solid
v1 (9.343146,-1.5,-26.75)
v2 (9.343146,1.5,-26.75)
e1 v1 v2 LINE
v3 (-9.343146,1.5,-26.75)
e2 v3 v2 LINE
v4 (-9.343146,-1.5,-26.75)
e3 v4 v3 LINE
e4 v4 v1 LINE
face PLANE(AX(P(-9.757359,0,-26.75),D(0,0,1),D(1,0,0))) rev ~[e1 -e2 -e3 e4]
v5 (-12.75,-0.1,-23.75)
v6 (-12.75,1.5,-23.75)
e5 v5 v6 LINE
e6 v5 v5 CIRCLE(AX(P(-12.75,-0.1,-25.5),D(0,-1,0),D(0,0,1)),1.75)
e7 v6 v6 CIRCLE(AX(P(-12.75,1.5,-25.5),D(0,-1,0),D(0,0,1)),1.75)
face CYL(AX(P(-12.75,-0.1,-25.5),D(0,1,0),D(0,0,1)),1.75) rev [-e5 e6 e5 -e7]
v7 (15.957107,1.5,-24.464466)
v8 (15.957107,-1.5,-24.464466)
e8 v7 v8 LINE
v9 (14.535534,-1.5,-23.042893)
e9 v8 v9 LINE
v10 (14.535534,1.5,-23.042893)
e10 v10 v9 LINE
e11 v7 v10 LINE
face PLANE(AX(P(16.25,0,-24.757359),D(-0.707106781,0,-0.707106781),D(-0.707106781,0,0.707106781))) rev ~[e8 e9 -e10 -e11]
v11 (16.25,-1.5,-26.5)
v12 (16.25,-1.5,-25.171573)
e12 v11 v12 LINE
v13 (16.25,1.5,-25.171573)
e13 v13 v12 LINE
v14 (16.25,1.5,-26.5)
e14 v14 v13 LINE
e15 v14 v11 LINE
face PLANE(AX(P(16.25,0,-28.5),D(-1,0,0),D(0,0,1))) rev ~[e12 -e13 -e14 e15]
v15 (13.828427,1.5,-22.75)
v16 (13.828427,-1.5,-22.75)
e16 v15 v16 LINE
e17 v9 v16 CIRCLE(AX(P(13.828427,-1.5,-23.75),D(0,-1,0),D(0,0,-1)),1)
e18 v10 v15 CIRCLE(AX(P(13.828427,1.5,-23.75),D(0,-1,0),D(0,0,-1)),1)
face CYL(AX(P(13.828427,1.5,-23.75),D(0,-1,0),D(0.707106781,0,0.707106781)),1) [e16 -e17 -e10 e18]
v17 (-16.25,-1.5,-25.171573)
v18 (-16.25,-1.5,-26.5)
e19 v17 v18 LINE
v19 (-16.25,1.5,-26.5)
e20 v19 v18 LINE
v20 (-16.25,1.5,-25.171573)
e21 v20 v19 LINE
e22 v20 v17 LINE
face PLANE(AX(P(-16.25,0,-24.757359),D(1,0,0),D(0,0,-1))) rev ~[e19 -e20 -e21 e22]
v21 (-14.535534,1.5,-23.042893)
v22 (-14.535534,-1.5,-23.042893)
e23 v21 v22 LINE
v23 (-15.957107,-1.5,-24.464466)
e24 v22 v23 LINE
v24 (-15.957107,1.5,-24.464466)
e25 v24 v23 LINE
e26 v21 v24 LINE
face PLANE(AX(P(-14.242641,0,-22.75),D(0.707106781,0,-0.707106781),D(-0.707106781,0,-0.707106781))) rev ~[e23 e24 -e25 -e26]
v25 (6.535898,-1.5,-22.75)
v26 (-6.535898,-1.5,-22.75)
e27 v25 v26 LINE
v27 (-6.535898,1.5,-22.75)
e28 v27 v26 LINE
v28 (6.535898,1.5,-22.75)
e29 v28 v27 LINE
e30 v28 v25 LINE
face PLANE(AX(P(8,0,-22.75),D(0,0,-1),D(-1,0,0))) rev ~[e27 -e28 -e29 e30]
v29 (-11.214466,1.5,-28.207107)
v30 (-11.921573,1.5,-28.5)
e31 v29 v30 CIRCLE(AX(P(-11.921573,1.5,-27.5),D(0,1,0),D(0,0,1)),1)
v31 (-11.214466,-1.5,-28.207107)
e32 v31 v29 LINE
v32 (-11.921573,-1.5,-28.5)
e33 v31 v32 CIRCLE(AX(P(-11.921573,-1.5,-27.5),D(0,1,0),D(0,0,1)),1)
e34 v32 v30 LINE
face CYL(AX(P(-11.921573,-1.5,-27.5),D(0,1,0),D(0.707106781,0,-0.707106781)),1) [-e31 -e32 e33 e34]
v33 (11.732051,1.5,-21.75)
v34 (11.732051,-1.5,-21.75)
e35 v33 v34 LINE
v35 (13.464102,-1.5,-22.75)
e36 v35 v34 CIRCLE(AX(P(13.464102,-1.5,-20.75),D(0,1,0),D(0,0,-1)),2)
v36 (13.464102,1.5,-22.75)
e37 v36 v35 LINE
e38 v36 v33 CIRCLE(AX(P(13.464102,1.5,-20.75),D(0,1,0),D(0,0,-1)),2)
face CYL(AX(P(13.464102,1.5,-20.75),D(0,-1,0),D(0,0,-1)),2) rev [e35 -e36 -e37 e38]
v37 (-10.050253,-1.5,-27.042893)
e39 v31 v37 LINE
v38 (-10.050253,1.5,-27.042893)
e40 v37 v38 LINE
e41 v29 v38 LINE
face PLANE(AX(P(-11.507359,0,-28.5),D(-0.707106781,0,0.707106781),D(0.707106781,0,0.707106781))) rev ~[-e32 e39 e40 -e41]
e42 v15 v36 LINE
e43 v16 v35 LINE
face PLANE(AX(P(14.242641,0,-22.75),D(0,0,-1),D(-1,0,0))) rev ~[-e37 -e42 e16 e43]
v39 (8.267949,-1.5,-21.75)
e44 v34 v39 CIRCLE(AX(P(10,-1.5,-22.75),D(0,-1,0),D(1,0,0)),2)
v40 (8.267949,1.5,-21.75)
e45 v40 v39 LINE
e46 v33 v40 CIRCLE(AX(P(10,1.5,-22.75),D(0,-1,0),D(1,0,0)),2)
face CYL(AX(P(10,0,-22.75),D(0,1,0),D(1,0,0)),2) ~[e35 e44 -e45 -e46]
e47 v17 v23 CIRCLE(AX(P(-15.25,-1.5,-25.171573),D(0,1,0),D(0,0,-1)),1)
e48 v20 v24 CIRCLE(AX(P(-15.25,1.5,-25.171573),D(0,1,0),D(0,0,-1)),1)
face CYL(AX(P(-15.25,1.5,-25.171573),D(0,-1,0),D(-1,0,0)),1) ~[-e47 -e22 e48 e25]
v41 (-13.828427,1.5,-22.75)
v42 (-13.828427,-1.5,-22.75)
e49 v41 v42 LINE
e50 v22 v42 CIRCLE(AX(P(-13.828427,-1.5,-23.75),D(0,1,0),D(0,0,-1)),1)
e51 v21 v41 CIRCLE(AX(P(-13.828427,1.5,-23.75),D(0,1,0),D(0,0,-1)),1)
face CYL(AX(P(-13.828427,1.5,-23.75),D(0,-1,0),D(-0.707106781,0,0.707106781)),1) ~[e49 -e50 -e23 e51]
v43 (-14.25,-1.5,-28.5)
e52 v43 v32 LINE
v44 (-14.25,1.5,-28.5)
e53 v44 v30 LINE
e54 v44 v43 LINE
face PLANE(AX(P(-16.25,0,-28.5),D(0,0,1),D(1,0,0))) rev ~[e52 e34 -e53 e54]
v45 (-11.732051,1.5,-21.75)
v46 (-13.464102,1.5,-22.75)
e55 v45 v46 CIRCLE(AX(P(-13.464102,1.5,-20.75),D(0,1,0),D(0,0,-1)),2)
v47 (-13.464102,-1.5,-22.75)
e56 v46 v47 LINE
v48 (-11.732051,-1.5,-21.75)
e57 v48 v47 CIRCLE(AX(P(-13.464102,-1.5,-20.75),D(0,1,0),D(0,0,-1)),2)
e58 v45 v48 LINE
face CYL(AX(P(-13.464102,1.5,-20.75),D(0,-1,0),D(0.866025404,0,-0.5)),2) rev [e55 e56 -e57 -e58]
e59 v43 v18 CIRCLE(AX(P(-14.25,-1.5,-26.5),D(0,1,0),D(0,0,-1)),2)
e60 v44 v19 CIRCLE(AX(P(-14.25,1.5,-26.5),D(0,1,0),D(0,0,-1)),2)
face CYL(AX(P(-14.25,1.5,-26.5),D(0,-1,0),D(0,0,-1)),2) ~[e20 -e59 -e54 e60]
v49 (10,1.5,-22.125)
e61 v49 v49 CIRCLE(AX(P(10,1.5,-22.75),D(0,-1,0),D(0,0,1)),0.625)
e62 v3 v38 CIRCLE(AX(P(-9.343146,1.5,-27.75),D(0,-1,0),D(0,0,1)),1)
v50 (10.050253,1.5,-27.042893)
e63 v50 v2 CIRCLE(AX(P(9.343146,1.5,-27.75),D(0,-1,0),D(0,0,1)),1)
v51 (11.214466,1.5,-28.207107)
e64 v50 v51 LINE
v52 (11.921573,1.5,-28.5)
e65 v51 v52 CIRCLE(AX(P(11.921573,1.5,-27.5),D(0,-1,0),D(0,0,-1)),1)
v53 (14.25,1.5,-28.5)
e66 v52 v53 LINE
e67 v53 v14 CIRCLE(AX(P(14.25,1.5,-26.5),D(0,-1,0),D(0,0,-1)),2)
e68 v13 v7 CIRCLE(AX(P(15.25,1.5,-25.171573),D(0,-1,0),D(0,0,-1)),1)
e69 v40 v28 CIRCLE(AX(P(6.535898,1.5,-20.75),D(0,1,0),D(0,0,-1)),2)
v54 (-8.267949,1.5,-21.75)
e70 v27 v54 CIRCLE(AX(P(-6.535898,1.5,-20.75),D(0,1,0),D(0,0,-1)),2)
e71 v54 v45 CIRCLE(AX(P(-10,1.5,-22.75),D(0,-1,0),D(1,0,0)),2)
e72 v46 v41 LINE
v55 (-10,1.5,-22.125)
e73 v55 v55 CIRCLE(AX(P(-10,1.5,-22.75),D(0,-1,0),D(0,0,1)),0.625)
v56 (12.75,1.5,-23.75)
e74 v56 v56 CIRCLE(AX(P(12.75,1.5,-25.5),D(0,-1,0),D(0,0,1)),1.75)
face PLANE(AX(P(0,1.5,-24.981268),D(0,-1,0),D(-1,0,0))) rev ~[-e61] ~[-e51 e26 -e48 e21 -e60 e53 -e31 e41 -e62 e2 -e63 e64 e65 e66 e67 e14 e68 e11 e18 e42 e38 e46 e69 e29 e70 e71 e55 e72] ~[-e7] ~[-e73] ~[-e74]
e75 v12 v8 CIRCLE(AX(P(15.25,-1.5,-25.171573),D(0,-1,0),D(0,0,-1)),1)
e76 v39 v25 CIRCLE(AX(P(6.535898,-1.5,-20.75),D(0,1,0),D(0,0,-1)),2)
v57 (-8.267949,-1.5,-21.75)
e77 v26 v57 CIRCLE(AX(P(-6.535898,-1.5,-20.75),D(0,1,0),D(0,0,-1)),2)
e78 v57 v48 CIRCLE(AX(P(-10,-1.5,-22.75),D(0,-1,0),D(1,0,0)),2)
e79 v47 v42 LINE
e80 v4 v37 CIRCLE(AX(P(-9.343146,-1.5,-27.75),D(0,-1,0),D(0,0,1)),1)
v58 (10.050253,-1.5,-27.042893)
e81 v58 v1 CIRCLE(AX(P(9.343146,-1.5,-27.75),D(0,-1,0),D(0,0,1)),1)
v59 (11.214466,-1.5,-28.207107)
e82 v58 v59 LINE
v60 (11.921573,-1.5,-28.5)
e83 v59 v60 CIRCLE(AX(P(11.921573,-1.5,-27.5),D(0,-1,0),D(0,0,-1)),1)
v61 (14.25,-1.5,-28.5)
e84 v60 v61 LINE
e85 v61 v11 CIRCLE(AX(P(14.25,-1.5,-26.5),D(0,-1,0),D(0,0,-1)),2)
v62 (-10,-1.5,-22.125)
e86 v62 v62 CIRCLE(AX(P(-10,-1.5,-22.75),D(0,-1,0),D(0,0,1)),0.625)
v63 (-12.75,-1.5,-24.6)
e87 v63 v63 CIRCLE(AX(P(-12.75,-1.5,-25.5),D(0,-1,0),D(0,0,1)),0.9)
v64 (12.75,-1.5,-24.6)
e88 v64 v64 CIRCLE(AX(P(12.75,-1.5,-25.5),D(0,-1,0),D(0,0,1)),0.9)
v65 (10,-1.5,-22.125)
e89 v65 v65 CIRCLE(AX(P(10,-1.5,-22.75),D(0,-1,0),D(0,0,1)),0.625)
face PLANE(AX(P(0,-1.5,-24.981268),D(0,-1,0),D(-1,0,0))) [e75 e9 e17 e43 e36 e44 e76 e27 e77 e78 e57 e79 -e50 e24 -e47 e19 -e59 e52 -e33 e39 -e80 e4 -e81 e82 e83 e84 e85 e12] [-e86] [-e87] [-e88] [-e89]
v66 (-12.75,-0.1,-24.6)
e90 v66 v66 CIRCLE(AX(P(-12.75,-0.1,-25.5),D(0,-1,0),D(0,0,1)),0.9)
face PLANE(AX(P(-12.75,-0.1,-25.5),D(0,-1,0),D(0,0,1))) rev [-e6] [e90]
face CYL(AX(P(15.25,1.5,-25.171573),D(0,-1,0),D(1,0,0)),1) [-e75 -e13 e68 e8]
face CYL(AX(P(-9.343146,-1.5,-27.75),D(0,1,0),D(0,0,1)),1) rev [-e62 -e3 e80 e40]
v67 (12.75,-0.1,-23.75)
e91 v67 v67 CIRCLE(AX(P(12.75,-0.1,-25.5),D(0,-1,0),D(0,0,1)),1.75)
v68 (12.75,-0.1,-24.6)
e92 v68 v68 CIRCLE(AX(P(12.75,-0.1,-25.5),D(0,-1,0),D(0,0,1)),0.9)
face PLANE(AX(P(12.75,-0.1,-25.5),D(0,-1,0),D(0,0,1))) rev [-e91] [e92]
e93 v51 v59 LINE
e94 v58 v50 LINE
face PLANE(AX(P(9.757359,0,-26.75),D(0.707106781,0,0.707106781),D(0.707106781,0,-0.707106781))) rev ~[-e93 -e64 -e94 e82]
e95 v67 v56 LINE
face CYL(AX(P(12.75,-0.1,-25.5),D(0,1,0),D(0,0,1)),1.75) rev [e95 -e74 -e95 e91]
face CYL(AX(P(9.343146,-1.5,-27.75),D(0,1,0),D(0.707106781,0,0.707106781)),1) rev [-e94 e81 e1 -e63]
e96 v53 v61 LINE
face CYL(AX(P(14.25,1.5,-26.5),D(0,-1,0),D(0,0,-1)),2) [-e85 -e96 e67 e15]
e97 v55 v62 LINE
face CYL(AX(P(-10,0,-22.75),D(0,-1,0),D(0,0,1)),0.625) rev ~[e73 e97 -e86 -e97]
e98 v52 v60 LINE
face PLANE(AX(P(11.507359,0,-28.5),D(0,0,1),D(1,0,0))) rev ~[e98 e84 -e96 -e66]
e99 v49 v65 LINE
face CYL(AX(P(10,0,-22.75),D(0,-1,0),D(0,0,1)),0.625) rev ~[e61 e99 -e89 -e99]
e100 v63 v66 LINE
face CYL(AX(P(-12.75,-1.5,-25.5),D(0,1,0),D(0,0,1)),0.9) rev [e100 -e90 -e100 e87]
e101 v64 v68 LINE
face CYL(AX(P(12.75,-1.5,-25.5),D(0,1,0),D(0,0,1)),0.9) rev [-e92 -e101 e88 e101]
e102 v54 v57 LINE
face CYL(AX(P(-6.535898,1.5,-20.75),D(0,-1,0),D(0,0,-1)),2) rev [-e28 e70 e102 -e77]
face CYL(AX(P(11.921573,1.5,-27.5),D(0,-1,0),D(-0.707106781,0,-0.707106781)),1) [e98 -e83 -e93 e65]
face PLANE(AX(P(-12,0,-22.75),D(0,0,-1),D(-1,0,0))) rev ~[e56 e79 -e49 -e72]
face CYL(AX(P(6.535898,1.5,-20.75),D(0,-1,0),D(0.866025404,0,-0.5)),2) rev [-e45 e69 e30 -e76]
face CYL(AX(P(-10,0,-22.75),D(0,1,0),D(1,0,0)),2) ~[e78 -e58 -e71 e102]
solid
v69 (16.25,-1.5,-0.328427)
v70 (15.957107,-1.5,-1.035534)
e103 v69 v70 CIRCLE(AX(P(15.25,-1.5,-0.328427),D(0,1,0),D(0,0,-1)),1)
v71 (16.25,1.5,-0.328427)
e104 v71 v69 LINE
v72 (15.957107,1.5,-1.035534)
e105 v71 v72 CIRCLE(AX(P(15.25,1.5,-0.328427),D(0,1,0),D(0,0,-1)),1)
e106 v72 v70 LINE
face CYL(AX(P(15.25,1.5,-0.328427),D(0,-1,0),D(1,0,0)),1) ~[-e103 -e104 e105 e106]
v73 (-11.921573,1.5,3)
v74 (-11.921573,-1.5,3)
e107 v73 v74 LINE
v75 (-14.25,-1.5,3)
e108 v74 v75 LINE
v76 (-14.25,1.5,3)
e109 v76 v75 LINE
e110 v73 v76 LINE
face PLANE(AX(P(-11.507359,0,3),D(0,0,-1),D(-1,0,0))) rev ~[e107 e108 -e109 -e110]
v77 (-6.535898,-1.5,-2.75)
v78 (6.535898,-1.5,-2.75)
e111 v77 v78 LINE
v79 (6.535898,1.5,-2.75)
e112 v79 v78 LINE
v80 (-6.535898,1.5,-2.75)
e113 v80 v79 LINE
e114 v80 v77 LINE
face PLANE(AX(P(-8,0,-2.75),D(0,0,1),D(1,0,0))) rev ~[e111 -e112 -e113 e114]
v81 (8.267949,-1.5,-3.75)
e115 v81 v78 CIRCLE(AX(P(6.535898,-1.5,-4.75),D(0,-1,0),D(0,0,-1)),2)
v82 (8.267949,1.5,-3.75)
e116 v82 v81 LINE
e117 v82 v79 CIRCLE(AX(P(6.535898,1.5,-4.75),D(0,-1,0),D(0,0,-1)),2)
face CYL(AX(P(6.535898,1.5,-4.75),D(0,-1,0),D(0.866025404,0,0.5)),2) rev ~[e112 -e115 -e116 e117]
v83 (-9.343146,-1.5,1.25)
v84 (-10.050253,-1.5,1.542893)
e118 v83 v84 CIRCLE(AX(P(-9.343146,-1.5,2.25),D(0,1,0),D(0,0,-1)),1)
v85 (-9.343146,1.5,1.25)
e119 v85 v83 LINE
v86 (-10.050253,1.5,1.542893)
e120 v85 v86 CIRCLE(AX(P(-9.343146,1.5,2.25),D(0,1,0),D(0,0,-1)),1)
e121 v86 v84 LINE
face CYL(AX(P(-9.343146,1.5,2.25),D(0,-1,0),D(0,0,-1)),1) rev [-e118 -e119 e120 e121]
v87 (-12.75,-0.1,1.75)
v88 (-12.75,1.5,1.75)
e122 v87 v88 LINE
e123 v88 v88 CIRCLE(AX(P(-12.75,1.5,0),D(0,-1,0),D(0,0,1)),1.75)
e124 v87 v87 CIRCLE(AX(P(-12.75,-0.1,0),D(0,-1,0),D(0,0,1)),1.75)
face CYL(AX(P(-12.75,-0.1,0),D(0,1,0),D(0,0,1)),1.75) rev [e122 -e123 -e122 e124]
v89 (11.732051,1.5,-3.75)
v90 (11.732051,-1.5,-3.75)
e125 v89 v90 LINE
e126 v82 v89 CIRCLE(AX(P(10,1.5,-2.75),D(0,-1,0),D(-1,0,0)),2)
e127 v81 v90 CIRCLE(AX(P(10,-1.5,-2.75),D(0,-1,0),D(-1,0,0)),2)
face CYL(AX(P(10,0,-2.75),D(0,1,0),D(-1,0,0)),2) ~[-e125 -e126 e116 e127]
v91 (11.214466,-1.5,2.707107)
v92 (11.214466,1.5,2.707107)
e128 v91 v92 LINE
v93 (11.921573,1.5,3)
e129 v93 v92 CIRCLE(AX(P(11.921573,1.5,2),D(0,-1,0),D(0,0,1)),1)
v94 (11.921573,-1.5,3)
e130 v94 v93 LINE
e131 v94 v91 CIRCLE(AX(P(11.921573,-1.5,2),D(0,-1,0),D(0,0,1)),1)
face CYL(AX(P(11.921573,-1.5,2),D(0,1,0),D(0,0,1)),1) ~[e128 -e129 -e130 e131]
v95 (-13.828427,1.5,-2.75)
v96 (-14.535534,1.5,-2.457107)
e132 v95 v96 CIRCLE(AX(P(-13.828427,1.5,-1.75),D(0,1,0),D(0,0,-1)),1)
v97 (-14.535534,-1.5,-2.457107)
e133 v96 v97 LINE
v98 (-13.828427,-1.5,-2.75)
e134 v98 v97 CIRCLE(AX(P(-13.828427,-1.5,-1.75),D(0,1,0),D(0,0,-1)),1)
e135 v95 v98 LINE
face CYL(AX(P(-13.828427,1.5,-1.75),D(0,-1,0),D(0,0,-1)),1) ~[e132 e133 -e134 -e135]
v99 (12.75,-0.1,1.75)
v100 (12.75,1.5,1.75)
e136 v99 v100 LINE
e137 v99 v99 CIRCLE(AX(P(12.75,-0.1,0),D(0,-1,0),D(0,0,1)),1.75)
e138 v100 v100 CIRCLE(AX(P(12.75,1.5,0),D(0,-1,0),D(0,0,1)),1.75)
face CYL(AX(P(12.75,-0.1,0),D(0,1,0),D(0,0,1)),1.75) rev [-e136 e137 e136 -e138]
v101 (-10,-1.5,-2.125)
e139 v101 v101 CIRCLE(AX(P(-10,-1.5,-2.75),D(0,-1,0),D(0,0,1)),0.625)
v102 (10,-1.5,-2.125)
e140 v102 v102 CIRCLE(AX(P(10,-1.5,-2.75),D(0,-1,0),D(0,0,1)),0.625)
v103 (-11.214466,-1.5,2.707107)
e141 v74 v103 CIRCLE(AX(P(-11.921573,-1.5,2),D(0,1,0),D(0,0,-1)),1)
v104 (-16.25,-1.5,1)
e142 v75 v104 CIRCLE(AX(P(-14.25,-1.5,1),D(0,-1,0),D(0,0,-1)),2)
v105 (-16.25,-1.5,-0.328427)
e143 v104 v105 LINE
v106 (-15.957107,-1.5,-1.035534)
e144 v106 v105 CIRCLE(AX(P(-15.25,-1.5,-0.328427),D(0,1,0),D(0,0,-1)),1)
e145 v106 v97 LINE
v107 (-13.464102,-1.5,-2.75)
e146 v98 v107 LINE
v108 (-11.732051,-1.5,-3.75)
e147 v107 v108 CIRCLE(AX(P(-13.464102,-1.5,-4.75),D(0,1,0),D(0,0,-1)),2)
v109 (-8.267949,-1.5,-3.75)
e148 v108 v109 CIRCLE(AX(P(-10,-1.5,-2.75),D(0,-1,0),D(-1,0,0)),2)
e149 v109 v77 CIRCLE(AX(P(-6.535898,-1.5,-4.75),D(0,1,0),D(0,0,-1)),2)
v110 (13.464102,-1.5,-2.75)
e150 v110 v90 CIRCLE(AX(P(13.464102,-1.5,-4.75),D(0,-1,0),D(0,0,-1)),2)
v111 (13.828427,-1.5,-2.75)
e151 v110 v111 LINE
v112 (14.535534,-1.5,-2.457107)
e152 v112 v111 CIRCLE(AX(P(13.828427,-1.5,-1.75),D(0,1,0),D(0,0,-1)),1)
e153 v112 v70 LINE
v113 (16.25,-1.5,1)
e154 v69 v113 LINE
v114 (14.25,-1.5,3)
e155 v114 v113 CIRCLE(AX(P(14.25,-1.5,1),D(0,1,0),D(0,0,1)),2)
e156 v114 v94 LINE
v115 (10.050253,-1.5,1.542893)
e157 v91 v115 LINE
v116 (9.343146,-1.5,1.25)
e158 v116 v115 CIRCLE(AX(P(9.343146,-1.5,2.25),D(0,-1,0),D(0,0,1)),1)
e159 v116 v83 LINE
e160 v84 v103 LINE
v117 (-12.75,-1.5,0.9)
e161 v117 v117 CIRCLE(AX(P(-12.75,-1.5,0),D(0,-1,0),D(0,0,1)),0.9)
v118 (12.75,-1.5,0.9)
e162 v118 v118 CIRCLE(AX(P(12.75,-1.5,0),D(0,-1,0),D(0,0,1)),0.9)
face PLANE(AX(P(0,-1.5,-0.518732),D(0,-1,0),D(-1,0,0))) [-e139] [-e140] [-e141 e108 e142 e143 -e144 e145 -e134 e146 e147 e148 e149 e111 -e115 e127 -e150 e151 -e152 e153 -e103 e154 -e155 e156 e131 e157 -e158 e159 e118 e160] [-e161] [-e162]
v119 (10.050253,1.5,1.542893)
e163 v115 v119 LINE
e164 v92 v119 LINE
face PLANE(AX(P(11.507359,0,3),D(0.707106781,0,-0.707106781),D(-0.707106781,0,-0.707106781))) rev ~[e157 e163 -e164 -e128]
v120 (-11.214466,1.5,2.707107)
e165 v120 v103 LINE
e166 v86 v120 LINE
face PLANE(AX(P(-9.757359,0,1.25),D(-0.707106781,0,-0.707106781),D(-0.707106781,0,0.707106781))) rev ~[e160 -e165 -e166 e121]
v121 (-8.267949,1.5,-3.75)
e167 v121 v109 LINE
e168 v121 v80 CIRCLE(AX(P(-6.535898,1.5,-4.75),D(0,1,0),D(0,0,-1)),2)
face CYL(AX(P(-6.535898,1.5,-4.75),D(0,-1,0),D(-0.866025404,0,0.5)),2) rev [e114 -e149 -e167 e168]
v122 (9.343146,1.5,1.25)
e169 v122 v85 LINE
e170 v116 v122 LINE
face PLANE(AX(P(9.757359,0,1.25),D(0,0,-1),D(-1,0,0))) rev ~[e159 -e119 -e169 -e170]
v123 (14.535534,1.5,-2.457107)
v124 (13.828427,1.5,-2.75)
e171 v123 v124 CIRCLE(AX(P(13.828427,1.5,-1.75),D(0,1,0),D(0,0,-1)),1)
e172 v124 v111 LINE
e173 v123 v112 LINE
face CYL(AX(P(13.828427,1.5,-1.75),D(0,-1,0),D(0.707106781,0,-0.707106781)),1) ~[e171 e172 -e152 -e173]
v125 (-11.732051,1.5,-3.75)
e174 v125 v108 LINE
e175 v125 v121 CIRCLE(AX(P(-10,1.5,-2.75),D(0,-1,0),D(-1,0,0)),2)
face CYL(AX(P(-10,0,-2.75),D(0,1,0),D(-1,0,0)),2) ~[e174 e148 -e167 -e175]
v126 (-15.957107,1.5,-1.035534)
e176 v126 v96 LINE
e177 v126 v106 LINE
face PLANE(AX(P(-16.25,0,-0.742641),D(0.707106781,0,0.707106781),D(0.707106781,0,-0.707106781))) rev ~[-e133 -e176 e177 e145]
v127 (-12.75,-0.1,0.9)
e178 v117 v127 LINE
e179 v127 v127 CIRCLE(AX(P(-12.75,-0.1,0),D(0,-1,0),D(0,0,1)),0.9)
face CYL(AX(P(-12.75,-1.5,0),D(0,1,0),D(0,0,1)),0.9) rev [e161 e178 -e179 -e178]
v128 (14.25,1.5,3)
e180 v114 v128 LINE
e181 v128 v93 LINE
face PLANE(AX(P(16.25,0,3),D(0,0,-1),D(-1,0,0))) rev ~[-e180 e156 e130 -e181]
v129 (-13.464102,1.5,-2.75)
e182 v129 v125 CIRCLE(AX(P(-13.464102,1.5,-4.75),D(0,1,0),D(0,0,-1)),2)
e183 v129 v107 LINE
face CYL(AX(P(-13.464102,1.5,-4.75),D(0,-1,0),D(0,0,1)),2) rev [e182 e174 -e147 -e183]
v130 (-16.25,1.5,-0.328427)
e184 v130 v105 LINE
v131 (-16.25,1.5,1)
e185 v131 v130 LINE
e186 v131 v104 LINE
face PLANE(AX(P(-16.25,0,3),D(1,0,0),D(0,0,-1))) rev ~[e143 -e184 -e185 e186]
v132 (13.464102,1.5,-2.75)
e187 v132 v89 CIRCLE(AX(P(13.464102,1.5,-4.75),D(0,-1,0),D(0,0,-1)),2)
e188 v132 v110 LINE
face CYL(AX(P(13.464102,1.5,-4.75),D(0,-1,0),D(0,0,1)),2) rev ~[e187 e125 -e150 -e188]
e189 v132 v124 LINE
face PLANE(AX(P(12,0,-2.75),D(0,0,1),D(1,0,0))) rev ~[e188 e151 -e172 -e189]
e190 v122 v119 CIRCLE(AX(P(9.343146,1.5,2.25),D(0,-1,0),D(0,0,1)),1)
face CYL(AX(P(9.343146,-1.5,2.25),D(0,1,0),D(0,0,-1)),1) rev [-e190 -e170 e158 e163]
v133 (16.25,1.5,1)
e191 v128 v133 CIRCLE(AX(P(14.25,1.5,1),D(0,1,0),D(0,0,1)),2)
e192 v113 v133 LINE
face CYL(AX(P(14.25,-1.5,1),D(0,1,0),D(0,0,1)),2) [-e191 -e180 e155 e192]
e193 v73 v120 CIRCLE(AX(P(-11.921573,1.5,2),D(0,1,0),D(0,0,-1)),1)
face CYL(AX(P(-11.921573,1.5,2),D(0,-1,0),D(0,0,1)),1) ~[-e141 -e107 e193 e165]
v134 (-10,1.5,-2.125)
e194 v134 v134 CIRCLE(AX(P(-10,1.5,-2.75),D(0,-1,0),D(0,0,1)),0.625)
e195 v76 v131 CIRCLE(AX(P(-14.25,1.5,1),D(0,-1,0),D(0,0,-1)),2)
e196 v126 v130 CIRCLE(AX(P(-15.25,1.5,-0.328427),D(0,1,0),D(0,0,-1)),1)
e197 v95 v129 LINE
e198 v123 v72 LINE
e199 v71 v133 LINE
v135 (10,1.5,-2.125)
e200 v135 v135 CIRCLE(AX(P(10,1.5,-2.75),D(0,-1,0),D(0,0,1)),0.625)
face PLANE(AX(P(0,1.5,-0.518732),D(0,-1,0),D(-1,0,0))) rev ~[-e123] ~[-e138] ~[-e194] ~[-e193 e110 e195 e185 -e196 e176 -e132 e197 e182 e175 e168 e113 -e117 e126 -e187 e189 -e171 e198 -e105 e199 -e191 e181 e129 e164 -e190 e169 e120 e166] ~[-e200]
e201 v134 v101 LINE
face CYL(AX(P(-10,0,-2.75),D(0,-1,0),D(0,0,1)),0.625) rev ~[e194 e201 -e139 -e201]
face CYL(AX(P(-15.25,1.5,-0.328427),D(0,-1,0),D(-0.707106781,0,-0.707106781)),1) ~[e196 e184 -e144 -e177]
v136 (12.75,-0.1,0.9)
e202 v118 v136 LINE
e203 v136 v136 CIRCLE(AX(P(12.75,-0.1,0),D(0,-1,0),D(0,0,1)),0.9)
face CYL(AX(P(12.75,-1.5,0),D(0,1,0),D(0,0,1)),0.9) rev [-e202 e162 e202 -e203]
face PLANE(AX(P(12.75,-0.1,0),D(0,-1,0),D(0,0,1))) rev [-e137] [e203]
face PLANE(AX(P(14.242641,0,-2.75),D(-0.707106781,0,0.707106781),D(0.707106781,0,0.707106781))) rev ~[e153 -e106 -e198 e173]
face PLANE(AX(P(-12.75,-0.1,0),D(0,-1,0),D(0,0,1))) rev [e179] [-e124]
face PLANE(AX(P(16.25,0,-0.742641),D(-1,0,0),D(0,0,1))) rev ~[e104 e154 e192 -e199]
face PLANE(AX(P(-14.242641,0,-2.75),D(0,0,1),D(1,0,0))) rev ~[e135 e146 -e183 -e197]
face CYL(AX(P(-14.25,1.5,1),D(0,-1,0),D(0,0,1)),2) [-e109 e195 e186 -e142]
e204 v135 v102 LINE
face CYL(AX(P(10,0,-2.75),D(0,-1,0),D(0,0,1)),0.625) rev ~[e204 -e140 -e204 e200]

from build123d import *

# Parameters (mm, degrees)
BOSS_EXTRUDE1_DEPTH               = 1.5
BOSS_EXTRUDE1_2_DEPTH             = 1.5
FILLET1_R                         = 1
FILLET2_R                         = 2
CBORE_FOR_M1_6_SHCS1_AT_2_COUNT   = 2
CBORE_FOR_M1_6_SHCS1_AT_2_PITCH   = 25.5
CBORE_FOR_M1_6_SHCS1_AT_3_COUNT   = 2
CBORE_FOR_M1_6_SHCS1_AT_3_PITCH   = 25.5
CBORE_FOR_M1_6_SHCS1_AT_4_COUNT   = 2
CBORE_FOR_M1_6_SHCS1_AT_4_PITCH   = 36.062445841
SKETCH6_W                         = 0.625
SKETCH6_H                         = 3
M1_6X0_35_TAPPED_HOLE1_AT_2_COUNT = 2
M1_6X0_35_TAPPED_HOLE1_AT_2_PITCH = 20
M1_6X0_35_TAPPED_HOLE1_AT_3_COUNT = 2
M1_6X0_35_TAPPED_HOLE1_AT_3_PITCH = 20
M1_6X0_35_TAPPED_HOLE1_AT_4_COUNT = 2
M1_6X0_35_TAPPED_HOLE1_AT_4_PITCH = 28.284271247
FILLET3_R                         = 1
FILLET4_R                         = 2


with BuildPart() as part:
    # Sketch1 → Boss-Extrude1 (new, symmetric)
    with BuildSketch(Plane(origin=(0, 0, 0), x_dir=(1, 0, 0), z_dir=(0, 1, 0))):
        with BuildLine():
            Line((9.757359313, -1.25), (-9.757359313, -1.25))
            Line((-9.757359313, -1.25), (-11.507359313, -3))
            Line((-11.507359313, -3), (-16.25, -3))
            Line((-16.25, -3), (-16.25, 0.742640687))
            Line((-16.25, 0.742640687), (-14.242640687, 2.75))
            Line((-14.242640687, 2.75), (-12, 2.75))
            ThreePointArc((-12, 2.75), (-10, 4.75), (-8, 2.75))
            Line((-8, 2.75), (8, 2.75))
            ThreePointArc((8, 2.75), (10, 4.75), (12, 2.75))
            Line((12, 2.75), (14.242640687, 2.75))
            Line((14.242640687, 2.75), (16.25, 0.742640687))
            Line((16.25, 0.742640687), (16.25, -3))
            Line((16.25, -3), (11.507359313, -3))
            Line((11.507359313, -3), (9.757359313, -1.25))
        make_face()
    extrude(amount=BOSS_EXTRUDE1_DEPTH, both=True)

    # Fillet1
    fillet1_edges = [part.edges().sort_by_distance(p)[0] for p in [
        (-11.507359313, 0, 3),
        (-16.25, 0, -0.742640687),
        (-14.242640687, 0, -2.75),
        (14.242640687, 0, -2.75),
        (16.25, 0, -0.742640687),
        (11.507359313, 0, 3),
        (9.757359313, 0, 1.25),
        (-9.757359313, 0, 1.25),
    ]]
    fillet(fillet1_edges, radius=FILLET1_R)

    # Fillet2
    fillet2_edges = [part.edges().sort_by_distance(p)[0] for p in [
        (-16.25, 0, 3),
        (-12, 0, -2.75),
        (-8, 0, -2.75),
        (8, 0, -2.75),
        (12, 0, -2.75),
        (16.25, 0, 3),
    ]]
    fillet(fillet2_edges, radius=FILLET2_R)

    # Sketch3 → CBORE for M1.6 SHCS1 (revolve, cut)
    with BuildSketch(Plane(origin=(-12.75, 1.5, 0), x_dir=(0, 0, 1), z_dir=(1, 0, 0))):
        Polygon((0, 0), (0, 3), (0.9, 3), (0.9, 1.6), (1.75, 1.6), (1.75, 0), align=None)
    cbore_for_m1_6_shcs1 = revolve(axis=Axis((-12.75, 7.85, 0), (0, -1, 0)), mode=Mode.SUBTRACT)

    # CBORE for M1.6 SHCS1 at 2: CBORE for M1.6 SHCS1 ×2
    with Locations(*[(i * CBORE_FOR_M1_6_SHCS1_AT_2_PITCH, 0, 0) for i in range(1, CBORE_FOR_M1_6_SHCS1_AT_2_COUNT)]):
        add(cbore_for_m1_6_shcs1, mode=Mode.SUBTRACT)

    # Sketch6 → M1.6x0.35 Tapped Hole1 (revolve, cut)
    with BuildSketch(Plane(origin=(-10, 1.5, -2.75), x_dir=(0, 0, 1), z_dir=(1, 0, 0))):
        with Locations((0.3125, 1.5)):
            Rectangle(SKETCH6_W, SKETCH6_H)
    m1_6x0_35_tapped_hole1 = revolve(axis=Axis((-10, 7.85, -2.75), (0, -1, 0)), mode=Mode.SUBTRACT)

    # M1.6x0.35 Tapped Hole1 at 2: M1.6x0.35 Tapped Hole1 ×2
    with Locations(*[(i * M1_6X0_35_TAPPED_HOLE1_AT_2_PITCH, 0, 0) for i in range(1, M1_6X0_35_TAPPED_HOLE1_AT_2_COUNT)]):
        add(m1_6x0_35_tapped_hole1, mode=Mode.SUBTRACT)


with BuildPart() as body_2:
    # Sketch1 → Boss-Extrude1 2 (new, symmetric)
    with BuildSketch(Plane(origin=(0, 0, 0), x_dir=(1, 0, 0), z_dir=(0, 1, 0))):
        with BuildLine():
            Line((9.757359313, 26.75), (11.507359313, 28.5))
            Line((11.507359313, 28.5), (16.25, 28.5))
            Line((16.25, 28.5), (16.25, 24.757359313))
            Line((16.25, 24.757359313), (14.242640687, 22.75))
            Line((14.242640687, 22.75), (12, 22.75))
            ThreePointArc((12, 22.75), (10, 20.75), (8, 22.75))
            Line((8, 22.75), (-8, 22.75))
            ThreePointArc((-8, 22.75), (-10, 20.75), (-12, 22.75))
            Line((-12, 22.75), (-14.242640687, 22.75))
            Line((-14.242640687, 22.75), (-16.25, 24.757359313))
            Line((-16.25, 24.757359313), (-16.25, 28.5))
            Line((-16.25, 28.5), (-11.507359313, 28.5))
            Line((-11.507359313, 28.5), (-9.757359313, 26.75))
            Line((-9.757359313, 26.75), (9.757359313, 26.75))
        make_face()
    extrude(amount=BOSS_EXTRUDE1_2_DEPTH, both=True)

    # CBORE for M1.6 SHCS1 at 3: CBORE for M1.6 SHCS1 ×2
    with Locations(*[(0, 0, -i * CBORE_FOR_M1_6_SHCS1_AT_3_PITCH) for i in range(1, CBORE_FOR_M1_6_SHCS1_AT_3_COUNT)]):
        add(cbore_for_m1_6_shcs1, mode=Mode.SUBTRACT)

    # CBORE for M1.6 SHCS1 at 4: CBORE for M1.6 SHCS1 ×2
    with Locations(*[Vector(0.7071067811865476, 0, -0.7071067811865476) * (i * CBORE_FOR_M1_6_SHCS1_AT_4_PITCH) for i in range(1, CBORE_FOR_M1_6_SHCS1_AT_4_COUNT)]):
        add(cbore_for_m1_6_shcs1, mode=Mode.SUBTRACT)

    # M1.6x0.35 Tapped Hole1 at 3: M1.6x0.35 Tapped Hole1 ×2
    with Locations(*[(0, 0, -i * M1_6X0_35_TAPPED_HOLE1_AT_3_PITCH) for i in range(1, M1_6X0_35_TAPPED_HOLE1_AT_3_COUNT)]):
        add(m1_6x0_35_tapped_hole1, mode=Mode.SUBTRACT)

    # M1.6x0.35 Tapped Hole1 at 4: M1.6x0.35 Tapped Hole1 ×2
    with Locations(*[Vector(0.7071067811865476, 0, -0.7071067811865476) * (i * M1_6X0_35_TAPPED_HOLE1_AT_4_PITCH) for i in range(1, M1_6X0_35_TAPPED_HOLE1_AT_4_COUNT)]):
        add(m1_6x0_35_tapped_hole1, mode=Mode.SUBTRACT)

    # Fillet3
    fillet3_edges = [body_2.edges().sort_by_distance(p)[0] for p in [
        (-14.242640687, 0, -22.75),
        (-16.25, 0, -24.757359313),
        (-11.507359313, 0, -28.5),
        (-9.757359313, 0, -26.75),
        (9.757359313, 0, -26.75),
        (11.507359313, 0, -28.5),
        (16.25, 0, -24.757359313),
        (14.242640687, 0, -22.75),
    ]]
    fillet(fillet3_edges, radius=FILLET3_R)

    # Fillet4
    fillet4_edges = [body_2.edges().sort_by_distance(p)[0] for p in [
        (8, 0, -22.75),
        (-8, 0, -22.75),
        (-12, 0, -22.75),
        (-16.25, 0, -28.5),
        (16.25, 0, -28.5),
        (12, 0, -22.75),
    ]]
    fillet(fillet4_edges, radius=FILLET4_R)


solid = Compound([part.part, body_2.part])
